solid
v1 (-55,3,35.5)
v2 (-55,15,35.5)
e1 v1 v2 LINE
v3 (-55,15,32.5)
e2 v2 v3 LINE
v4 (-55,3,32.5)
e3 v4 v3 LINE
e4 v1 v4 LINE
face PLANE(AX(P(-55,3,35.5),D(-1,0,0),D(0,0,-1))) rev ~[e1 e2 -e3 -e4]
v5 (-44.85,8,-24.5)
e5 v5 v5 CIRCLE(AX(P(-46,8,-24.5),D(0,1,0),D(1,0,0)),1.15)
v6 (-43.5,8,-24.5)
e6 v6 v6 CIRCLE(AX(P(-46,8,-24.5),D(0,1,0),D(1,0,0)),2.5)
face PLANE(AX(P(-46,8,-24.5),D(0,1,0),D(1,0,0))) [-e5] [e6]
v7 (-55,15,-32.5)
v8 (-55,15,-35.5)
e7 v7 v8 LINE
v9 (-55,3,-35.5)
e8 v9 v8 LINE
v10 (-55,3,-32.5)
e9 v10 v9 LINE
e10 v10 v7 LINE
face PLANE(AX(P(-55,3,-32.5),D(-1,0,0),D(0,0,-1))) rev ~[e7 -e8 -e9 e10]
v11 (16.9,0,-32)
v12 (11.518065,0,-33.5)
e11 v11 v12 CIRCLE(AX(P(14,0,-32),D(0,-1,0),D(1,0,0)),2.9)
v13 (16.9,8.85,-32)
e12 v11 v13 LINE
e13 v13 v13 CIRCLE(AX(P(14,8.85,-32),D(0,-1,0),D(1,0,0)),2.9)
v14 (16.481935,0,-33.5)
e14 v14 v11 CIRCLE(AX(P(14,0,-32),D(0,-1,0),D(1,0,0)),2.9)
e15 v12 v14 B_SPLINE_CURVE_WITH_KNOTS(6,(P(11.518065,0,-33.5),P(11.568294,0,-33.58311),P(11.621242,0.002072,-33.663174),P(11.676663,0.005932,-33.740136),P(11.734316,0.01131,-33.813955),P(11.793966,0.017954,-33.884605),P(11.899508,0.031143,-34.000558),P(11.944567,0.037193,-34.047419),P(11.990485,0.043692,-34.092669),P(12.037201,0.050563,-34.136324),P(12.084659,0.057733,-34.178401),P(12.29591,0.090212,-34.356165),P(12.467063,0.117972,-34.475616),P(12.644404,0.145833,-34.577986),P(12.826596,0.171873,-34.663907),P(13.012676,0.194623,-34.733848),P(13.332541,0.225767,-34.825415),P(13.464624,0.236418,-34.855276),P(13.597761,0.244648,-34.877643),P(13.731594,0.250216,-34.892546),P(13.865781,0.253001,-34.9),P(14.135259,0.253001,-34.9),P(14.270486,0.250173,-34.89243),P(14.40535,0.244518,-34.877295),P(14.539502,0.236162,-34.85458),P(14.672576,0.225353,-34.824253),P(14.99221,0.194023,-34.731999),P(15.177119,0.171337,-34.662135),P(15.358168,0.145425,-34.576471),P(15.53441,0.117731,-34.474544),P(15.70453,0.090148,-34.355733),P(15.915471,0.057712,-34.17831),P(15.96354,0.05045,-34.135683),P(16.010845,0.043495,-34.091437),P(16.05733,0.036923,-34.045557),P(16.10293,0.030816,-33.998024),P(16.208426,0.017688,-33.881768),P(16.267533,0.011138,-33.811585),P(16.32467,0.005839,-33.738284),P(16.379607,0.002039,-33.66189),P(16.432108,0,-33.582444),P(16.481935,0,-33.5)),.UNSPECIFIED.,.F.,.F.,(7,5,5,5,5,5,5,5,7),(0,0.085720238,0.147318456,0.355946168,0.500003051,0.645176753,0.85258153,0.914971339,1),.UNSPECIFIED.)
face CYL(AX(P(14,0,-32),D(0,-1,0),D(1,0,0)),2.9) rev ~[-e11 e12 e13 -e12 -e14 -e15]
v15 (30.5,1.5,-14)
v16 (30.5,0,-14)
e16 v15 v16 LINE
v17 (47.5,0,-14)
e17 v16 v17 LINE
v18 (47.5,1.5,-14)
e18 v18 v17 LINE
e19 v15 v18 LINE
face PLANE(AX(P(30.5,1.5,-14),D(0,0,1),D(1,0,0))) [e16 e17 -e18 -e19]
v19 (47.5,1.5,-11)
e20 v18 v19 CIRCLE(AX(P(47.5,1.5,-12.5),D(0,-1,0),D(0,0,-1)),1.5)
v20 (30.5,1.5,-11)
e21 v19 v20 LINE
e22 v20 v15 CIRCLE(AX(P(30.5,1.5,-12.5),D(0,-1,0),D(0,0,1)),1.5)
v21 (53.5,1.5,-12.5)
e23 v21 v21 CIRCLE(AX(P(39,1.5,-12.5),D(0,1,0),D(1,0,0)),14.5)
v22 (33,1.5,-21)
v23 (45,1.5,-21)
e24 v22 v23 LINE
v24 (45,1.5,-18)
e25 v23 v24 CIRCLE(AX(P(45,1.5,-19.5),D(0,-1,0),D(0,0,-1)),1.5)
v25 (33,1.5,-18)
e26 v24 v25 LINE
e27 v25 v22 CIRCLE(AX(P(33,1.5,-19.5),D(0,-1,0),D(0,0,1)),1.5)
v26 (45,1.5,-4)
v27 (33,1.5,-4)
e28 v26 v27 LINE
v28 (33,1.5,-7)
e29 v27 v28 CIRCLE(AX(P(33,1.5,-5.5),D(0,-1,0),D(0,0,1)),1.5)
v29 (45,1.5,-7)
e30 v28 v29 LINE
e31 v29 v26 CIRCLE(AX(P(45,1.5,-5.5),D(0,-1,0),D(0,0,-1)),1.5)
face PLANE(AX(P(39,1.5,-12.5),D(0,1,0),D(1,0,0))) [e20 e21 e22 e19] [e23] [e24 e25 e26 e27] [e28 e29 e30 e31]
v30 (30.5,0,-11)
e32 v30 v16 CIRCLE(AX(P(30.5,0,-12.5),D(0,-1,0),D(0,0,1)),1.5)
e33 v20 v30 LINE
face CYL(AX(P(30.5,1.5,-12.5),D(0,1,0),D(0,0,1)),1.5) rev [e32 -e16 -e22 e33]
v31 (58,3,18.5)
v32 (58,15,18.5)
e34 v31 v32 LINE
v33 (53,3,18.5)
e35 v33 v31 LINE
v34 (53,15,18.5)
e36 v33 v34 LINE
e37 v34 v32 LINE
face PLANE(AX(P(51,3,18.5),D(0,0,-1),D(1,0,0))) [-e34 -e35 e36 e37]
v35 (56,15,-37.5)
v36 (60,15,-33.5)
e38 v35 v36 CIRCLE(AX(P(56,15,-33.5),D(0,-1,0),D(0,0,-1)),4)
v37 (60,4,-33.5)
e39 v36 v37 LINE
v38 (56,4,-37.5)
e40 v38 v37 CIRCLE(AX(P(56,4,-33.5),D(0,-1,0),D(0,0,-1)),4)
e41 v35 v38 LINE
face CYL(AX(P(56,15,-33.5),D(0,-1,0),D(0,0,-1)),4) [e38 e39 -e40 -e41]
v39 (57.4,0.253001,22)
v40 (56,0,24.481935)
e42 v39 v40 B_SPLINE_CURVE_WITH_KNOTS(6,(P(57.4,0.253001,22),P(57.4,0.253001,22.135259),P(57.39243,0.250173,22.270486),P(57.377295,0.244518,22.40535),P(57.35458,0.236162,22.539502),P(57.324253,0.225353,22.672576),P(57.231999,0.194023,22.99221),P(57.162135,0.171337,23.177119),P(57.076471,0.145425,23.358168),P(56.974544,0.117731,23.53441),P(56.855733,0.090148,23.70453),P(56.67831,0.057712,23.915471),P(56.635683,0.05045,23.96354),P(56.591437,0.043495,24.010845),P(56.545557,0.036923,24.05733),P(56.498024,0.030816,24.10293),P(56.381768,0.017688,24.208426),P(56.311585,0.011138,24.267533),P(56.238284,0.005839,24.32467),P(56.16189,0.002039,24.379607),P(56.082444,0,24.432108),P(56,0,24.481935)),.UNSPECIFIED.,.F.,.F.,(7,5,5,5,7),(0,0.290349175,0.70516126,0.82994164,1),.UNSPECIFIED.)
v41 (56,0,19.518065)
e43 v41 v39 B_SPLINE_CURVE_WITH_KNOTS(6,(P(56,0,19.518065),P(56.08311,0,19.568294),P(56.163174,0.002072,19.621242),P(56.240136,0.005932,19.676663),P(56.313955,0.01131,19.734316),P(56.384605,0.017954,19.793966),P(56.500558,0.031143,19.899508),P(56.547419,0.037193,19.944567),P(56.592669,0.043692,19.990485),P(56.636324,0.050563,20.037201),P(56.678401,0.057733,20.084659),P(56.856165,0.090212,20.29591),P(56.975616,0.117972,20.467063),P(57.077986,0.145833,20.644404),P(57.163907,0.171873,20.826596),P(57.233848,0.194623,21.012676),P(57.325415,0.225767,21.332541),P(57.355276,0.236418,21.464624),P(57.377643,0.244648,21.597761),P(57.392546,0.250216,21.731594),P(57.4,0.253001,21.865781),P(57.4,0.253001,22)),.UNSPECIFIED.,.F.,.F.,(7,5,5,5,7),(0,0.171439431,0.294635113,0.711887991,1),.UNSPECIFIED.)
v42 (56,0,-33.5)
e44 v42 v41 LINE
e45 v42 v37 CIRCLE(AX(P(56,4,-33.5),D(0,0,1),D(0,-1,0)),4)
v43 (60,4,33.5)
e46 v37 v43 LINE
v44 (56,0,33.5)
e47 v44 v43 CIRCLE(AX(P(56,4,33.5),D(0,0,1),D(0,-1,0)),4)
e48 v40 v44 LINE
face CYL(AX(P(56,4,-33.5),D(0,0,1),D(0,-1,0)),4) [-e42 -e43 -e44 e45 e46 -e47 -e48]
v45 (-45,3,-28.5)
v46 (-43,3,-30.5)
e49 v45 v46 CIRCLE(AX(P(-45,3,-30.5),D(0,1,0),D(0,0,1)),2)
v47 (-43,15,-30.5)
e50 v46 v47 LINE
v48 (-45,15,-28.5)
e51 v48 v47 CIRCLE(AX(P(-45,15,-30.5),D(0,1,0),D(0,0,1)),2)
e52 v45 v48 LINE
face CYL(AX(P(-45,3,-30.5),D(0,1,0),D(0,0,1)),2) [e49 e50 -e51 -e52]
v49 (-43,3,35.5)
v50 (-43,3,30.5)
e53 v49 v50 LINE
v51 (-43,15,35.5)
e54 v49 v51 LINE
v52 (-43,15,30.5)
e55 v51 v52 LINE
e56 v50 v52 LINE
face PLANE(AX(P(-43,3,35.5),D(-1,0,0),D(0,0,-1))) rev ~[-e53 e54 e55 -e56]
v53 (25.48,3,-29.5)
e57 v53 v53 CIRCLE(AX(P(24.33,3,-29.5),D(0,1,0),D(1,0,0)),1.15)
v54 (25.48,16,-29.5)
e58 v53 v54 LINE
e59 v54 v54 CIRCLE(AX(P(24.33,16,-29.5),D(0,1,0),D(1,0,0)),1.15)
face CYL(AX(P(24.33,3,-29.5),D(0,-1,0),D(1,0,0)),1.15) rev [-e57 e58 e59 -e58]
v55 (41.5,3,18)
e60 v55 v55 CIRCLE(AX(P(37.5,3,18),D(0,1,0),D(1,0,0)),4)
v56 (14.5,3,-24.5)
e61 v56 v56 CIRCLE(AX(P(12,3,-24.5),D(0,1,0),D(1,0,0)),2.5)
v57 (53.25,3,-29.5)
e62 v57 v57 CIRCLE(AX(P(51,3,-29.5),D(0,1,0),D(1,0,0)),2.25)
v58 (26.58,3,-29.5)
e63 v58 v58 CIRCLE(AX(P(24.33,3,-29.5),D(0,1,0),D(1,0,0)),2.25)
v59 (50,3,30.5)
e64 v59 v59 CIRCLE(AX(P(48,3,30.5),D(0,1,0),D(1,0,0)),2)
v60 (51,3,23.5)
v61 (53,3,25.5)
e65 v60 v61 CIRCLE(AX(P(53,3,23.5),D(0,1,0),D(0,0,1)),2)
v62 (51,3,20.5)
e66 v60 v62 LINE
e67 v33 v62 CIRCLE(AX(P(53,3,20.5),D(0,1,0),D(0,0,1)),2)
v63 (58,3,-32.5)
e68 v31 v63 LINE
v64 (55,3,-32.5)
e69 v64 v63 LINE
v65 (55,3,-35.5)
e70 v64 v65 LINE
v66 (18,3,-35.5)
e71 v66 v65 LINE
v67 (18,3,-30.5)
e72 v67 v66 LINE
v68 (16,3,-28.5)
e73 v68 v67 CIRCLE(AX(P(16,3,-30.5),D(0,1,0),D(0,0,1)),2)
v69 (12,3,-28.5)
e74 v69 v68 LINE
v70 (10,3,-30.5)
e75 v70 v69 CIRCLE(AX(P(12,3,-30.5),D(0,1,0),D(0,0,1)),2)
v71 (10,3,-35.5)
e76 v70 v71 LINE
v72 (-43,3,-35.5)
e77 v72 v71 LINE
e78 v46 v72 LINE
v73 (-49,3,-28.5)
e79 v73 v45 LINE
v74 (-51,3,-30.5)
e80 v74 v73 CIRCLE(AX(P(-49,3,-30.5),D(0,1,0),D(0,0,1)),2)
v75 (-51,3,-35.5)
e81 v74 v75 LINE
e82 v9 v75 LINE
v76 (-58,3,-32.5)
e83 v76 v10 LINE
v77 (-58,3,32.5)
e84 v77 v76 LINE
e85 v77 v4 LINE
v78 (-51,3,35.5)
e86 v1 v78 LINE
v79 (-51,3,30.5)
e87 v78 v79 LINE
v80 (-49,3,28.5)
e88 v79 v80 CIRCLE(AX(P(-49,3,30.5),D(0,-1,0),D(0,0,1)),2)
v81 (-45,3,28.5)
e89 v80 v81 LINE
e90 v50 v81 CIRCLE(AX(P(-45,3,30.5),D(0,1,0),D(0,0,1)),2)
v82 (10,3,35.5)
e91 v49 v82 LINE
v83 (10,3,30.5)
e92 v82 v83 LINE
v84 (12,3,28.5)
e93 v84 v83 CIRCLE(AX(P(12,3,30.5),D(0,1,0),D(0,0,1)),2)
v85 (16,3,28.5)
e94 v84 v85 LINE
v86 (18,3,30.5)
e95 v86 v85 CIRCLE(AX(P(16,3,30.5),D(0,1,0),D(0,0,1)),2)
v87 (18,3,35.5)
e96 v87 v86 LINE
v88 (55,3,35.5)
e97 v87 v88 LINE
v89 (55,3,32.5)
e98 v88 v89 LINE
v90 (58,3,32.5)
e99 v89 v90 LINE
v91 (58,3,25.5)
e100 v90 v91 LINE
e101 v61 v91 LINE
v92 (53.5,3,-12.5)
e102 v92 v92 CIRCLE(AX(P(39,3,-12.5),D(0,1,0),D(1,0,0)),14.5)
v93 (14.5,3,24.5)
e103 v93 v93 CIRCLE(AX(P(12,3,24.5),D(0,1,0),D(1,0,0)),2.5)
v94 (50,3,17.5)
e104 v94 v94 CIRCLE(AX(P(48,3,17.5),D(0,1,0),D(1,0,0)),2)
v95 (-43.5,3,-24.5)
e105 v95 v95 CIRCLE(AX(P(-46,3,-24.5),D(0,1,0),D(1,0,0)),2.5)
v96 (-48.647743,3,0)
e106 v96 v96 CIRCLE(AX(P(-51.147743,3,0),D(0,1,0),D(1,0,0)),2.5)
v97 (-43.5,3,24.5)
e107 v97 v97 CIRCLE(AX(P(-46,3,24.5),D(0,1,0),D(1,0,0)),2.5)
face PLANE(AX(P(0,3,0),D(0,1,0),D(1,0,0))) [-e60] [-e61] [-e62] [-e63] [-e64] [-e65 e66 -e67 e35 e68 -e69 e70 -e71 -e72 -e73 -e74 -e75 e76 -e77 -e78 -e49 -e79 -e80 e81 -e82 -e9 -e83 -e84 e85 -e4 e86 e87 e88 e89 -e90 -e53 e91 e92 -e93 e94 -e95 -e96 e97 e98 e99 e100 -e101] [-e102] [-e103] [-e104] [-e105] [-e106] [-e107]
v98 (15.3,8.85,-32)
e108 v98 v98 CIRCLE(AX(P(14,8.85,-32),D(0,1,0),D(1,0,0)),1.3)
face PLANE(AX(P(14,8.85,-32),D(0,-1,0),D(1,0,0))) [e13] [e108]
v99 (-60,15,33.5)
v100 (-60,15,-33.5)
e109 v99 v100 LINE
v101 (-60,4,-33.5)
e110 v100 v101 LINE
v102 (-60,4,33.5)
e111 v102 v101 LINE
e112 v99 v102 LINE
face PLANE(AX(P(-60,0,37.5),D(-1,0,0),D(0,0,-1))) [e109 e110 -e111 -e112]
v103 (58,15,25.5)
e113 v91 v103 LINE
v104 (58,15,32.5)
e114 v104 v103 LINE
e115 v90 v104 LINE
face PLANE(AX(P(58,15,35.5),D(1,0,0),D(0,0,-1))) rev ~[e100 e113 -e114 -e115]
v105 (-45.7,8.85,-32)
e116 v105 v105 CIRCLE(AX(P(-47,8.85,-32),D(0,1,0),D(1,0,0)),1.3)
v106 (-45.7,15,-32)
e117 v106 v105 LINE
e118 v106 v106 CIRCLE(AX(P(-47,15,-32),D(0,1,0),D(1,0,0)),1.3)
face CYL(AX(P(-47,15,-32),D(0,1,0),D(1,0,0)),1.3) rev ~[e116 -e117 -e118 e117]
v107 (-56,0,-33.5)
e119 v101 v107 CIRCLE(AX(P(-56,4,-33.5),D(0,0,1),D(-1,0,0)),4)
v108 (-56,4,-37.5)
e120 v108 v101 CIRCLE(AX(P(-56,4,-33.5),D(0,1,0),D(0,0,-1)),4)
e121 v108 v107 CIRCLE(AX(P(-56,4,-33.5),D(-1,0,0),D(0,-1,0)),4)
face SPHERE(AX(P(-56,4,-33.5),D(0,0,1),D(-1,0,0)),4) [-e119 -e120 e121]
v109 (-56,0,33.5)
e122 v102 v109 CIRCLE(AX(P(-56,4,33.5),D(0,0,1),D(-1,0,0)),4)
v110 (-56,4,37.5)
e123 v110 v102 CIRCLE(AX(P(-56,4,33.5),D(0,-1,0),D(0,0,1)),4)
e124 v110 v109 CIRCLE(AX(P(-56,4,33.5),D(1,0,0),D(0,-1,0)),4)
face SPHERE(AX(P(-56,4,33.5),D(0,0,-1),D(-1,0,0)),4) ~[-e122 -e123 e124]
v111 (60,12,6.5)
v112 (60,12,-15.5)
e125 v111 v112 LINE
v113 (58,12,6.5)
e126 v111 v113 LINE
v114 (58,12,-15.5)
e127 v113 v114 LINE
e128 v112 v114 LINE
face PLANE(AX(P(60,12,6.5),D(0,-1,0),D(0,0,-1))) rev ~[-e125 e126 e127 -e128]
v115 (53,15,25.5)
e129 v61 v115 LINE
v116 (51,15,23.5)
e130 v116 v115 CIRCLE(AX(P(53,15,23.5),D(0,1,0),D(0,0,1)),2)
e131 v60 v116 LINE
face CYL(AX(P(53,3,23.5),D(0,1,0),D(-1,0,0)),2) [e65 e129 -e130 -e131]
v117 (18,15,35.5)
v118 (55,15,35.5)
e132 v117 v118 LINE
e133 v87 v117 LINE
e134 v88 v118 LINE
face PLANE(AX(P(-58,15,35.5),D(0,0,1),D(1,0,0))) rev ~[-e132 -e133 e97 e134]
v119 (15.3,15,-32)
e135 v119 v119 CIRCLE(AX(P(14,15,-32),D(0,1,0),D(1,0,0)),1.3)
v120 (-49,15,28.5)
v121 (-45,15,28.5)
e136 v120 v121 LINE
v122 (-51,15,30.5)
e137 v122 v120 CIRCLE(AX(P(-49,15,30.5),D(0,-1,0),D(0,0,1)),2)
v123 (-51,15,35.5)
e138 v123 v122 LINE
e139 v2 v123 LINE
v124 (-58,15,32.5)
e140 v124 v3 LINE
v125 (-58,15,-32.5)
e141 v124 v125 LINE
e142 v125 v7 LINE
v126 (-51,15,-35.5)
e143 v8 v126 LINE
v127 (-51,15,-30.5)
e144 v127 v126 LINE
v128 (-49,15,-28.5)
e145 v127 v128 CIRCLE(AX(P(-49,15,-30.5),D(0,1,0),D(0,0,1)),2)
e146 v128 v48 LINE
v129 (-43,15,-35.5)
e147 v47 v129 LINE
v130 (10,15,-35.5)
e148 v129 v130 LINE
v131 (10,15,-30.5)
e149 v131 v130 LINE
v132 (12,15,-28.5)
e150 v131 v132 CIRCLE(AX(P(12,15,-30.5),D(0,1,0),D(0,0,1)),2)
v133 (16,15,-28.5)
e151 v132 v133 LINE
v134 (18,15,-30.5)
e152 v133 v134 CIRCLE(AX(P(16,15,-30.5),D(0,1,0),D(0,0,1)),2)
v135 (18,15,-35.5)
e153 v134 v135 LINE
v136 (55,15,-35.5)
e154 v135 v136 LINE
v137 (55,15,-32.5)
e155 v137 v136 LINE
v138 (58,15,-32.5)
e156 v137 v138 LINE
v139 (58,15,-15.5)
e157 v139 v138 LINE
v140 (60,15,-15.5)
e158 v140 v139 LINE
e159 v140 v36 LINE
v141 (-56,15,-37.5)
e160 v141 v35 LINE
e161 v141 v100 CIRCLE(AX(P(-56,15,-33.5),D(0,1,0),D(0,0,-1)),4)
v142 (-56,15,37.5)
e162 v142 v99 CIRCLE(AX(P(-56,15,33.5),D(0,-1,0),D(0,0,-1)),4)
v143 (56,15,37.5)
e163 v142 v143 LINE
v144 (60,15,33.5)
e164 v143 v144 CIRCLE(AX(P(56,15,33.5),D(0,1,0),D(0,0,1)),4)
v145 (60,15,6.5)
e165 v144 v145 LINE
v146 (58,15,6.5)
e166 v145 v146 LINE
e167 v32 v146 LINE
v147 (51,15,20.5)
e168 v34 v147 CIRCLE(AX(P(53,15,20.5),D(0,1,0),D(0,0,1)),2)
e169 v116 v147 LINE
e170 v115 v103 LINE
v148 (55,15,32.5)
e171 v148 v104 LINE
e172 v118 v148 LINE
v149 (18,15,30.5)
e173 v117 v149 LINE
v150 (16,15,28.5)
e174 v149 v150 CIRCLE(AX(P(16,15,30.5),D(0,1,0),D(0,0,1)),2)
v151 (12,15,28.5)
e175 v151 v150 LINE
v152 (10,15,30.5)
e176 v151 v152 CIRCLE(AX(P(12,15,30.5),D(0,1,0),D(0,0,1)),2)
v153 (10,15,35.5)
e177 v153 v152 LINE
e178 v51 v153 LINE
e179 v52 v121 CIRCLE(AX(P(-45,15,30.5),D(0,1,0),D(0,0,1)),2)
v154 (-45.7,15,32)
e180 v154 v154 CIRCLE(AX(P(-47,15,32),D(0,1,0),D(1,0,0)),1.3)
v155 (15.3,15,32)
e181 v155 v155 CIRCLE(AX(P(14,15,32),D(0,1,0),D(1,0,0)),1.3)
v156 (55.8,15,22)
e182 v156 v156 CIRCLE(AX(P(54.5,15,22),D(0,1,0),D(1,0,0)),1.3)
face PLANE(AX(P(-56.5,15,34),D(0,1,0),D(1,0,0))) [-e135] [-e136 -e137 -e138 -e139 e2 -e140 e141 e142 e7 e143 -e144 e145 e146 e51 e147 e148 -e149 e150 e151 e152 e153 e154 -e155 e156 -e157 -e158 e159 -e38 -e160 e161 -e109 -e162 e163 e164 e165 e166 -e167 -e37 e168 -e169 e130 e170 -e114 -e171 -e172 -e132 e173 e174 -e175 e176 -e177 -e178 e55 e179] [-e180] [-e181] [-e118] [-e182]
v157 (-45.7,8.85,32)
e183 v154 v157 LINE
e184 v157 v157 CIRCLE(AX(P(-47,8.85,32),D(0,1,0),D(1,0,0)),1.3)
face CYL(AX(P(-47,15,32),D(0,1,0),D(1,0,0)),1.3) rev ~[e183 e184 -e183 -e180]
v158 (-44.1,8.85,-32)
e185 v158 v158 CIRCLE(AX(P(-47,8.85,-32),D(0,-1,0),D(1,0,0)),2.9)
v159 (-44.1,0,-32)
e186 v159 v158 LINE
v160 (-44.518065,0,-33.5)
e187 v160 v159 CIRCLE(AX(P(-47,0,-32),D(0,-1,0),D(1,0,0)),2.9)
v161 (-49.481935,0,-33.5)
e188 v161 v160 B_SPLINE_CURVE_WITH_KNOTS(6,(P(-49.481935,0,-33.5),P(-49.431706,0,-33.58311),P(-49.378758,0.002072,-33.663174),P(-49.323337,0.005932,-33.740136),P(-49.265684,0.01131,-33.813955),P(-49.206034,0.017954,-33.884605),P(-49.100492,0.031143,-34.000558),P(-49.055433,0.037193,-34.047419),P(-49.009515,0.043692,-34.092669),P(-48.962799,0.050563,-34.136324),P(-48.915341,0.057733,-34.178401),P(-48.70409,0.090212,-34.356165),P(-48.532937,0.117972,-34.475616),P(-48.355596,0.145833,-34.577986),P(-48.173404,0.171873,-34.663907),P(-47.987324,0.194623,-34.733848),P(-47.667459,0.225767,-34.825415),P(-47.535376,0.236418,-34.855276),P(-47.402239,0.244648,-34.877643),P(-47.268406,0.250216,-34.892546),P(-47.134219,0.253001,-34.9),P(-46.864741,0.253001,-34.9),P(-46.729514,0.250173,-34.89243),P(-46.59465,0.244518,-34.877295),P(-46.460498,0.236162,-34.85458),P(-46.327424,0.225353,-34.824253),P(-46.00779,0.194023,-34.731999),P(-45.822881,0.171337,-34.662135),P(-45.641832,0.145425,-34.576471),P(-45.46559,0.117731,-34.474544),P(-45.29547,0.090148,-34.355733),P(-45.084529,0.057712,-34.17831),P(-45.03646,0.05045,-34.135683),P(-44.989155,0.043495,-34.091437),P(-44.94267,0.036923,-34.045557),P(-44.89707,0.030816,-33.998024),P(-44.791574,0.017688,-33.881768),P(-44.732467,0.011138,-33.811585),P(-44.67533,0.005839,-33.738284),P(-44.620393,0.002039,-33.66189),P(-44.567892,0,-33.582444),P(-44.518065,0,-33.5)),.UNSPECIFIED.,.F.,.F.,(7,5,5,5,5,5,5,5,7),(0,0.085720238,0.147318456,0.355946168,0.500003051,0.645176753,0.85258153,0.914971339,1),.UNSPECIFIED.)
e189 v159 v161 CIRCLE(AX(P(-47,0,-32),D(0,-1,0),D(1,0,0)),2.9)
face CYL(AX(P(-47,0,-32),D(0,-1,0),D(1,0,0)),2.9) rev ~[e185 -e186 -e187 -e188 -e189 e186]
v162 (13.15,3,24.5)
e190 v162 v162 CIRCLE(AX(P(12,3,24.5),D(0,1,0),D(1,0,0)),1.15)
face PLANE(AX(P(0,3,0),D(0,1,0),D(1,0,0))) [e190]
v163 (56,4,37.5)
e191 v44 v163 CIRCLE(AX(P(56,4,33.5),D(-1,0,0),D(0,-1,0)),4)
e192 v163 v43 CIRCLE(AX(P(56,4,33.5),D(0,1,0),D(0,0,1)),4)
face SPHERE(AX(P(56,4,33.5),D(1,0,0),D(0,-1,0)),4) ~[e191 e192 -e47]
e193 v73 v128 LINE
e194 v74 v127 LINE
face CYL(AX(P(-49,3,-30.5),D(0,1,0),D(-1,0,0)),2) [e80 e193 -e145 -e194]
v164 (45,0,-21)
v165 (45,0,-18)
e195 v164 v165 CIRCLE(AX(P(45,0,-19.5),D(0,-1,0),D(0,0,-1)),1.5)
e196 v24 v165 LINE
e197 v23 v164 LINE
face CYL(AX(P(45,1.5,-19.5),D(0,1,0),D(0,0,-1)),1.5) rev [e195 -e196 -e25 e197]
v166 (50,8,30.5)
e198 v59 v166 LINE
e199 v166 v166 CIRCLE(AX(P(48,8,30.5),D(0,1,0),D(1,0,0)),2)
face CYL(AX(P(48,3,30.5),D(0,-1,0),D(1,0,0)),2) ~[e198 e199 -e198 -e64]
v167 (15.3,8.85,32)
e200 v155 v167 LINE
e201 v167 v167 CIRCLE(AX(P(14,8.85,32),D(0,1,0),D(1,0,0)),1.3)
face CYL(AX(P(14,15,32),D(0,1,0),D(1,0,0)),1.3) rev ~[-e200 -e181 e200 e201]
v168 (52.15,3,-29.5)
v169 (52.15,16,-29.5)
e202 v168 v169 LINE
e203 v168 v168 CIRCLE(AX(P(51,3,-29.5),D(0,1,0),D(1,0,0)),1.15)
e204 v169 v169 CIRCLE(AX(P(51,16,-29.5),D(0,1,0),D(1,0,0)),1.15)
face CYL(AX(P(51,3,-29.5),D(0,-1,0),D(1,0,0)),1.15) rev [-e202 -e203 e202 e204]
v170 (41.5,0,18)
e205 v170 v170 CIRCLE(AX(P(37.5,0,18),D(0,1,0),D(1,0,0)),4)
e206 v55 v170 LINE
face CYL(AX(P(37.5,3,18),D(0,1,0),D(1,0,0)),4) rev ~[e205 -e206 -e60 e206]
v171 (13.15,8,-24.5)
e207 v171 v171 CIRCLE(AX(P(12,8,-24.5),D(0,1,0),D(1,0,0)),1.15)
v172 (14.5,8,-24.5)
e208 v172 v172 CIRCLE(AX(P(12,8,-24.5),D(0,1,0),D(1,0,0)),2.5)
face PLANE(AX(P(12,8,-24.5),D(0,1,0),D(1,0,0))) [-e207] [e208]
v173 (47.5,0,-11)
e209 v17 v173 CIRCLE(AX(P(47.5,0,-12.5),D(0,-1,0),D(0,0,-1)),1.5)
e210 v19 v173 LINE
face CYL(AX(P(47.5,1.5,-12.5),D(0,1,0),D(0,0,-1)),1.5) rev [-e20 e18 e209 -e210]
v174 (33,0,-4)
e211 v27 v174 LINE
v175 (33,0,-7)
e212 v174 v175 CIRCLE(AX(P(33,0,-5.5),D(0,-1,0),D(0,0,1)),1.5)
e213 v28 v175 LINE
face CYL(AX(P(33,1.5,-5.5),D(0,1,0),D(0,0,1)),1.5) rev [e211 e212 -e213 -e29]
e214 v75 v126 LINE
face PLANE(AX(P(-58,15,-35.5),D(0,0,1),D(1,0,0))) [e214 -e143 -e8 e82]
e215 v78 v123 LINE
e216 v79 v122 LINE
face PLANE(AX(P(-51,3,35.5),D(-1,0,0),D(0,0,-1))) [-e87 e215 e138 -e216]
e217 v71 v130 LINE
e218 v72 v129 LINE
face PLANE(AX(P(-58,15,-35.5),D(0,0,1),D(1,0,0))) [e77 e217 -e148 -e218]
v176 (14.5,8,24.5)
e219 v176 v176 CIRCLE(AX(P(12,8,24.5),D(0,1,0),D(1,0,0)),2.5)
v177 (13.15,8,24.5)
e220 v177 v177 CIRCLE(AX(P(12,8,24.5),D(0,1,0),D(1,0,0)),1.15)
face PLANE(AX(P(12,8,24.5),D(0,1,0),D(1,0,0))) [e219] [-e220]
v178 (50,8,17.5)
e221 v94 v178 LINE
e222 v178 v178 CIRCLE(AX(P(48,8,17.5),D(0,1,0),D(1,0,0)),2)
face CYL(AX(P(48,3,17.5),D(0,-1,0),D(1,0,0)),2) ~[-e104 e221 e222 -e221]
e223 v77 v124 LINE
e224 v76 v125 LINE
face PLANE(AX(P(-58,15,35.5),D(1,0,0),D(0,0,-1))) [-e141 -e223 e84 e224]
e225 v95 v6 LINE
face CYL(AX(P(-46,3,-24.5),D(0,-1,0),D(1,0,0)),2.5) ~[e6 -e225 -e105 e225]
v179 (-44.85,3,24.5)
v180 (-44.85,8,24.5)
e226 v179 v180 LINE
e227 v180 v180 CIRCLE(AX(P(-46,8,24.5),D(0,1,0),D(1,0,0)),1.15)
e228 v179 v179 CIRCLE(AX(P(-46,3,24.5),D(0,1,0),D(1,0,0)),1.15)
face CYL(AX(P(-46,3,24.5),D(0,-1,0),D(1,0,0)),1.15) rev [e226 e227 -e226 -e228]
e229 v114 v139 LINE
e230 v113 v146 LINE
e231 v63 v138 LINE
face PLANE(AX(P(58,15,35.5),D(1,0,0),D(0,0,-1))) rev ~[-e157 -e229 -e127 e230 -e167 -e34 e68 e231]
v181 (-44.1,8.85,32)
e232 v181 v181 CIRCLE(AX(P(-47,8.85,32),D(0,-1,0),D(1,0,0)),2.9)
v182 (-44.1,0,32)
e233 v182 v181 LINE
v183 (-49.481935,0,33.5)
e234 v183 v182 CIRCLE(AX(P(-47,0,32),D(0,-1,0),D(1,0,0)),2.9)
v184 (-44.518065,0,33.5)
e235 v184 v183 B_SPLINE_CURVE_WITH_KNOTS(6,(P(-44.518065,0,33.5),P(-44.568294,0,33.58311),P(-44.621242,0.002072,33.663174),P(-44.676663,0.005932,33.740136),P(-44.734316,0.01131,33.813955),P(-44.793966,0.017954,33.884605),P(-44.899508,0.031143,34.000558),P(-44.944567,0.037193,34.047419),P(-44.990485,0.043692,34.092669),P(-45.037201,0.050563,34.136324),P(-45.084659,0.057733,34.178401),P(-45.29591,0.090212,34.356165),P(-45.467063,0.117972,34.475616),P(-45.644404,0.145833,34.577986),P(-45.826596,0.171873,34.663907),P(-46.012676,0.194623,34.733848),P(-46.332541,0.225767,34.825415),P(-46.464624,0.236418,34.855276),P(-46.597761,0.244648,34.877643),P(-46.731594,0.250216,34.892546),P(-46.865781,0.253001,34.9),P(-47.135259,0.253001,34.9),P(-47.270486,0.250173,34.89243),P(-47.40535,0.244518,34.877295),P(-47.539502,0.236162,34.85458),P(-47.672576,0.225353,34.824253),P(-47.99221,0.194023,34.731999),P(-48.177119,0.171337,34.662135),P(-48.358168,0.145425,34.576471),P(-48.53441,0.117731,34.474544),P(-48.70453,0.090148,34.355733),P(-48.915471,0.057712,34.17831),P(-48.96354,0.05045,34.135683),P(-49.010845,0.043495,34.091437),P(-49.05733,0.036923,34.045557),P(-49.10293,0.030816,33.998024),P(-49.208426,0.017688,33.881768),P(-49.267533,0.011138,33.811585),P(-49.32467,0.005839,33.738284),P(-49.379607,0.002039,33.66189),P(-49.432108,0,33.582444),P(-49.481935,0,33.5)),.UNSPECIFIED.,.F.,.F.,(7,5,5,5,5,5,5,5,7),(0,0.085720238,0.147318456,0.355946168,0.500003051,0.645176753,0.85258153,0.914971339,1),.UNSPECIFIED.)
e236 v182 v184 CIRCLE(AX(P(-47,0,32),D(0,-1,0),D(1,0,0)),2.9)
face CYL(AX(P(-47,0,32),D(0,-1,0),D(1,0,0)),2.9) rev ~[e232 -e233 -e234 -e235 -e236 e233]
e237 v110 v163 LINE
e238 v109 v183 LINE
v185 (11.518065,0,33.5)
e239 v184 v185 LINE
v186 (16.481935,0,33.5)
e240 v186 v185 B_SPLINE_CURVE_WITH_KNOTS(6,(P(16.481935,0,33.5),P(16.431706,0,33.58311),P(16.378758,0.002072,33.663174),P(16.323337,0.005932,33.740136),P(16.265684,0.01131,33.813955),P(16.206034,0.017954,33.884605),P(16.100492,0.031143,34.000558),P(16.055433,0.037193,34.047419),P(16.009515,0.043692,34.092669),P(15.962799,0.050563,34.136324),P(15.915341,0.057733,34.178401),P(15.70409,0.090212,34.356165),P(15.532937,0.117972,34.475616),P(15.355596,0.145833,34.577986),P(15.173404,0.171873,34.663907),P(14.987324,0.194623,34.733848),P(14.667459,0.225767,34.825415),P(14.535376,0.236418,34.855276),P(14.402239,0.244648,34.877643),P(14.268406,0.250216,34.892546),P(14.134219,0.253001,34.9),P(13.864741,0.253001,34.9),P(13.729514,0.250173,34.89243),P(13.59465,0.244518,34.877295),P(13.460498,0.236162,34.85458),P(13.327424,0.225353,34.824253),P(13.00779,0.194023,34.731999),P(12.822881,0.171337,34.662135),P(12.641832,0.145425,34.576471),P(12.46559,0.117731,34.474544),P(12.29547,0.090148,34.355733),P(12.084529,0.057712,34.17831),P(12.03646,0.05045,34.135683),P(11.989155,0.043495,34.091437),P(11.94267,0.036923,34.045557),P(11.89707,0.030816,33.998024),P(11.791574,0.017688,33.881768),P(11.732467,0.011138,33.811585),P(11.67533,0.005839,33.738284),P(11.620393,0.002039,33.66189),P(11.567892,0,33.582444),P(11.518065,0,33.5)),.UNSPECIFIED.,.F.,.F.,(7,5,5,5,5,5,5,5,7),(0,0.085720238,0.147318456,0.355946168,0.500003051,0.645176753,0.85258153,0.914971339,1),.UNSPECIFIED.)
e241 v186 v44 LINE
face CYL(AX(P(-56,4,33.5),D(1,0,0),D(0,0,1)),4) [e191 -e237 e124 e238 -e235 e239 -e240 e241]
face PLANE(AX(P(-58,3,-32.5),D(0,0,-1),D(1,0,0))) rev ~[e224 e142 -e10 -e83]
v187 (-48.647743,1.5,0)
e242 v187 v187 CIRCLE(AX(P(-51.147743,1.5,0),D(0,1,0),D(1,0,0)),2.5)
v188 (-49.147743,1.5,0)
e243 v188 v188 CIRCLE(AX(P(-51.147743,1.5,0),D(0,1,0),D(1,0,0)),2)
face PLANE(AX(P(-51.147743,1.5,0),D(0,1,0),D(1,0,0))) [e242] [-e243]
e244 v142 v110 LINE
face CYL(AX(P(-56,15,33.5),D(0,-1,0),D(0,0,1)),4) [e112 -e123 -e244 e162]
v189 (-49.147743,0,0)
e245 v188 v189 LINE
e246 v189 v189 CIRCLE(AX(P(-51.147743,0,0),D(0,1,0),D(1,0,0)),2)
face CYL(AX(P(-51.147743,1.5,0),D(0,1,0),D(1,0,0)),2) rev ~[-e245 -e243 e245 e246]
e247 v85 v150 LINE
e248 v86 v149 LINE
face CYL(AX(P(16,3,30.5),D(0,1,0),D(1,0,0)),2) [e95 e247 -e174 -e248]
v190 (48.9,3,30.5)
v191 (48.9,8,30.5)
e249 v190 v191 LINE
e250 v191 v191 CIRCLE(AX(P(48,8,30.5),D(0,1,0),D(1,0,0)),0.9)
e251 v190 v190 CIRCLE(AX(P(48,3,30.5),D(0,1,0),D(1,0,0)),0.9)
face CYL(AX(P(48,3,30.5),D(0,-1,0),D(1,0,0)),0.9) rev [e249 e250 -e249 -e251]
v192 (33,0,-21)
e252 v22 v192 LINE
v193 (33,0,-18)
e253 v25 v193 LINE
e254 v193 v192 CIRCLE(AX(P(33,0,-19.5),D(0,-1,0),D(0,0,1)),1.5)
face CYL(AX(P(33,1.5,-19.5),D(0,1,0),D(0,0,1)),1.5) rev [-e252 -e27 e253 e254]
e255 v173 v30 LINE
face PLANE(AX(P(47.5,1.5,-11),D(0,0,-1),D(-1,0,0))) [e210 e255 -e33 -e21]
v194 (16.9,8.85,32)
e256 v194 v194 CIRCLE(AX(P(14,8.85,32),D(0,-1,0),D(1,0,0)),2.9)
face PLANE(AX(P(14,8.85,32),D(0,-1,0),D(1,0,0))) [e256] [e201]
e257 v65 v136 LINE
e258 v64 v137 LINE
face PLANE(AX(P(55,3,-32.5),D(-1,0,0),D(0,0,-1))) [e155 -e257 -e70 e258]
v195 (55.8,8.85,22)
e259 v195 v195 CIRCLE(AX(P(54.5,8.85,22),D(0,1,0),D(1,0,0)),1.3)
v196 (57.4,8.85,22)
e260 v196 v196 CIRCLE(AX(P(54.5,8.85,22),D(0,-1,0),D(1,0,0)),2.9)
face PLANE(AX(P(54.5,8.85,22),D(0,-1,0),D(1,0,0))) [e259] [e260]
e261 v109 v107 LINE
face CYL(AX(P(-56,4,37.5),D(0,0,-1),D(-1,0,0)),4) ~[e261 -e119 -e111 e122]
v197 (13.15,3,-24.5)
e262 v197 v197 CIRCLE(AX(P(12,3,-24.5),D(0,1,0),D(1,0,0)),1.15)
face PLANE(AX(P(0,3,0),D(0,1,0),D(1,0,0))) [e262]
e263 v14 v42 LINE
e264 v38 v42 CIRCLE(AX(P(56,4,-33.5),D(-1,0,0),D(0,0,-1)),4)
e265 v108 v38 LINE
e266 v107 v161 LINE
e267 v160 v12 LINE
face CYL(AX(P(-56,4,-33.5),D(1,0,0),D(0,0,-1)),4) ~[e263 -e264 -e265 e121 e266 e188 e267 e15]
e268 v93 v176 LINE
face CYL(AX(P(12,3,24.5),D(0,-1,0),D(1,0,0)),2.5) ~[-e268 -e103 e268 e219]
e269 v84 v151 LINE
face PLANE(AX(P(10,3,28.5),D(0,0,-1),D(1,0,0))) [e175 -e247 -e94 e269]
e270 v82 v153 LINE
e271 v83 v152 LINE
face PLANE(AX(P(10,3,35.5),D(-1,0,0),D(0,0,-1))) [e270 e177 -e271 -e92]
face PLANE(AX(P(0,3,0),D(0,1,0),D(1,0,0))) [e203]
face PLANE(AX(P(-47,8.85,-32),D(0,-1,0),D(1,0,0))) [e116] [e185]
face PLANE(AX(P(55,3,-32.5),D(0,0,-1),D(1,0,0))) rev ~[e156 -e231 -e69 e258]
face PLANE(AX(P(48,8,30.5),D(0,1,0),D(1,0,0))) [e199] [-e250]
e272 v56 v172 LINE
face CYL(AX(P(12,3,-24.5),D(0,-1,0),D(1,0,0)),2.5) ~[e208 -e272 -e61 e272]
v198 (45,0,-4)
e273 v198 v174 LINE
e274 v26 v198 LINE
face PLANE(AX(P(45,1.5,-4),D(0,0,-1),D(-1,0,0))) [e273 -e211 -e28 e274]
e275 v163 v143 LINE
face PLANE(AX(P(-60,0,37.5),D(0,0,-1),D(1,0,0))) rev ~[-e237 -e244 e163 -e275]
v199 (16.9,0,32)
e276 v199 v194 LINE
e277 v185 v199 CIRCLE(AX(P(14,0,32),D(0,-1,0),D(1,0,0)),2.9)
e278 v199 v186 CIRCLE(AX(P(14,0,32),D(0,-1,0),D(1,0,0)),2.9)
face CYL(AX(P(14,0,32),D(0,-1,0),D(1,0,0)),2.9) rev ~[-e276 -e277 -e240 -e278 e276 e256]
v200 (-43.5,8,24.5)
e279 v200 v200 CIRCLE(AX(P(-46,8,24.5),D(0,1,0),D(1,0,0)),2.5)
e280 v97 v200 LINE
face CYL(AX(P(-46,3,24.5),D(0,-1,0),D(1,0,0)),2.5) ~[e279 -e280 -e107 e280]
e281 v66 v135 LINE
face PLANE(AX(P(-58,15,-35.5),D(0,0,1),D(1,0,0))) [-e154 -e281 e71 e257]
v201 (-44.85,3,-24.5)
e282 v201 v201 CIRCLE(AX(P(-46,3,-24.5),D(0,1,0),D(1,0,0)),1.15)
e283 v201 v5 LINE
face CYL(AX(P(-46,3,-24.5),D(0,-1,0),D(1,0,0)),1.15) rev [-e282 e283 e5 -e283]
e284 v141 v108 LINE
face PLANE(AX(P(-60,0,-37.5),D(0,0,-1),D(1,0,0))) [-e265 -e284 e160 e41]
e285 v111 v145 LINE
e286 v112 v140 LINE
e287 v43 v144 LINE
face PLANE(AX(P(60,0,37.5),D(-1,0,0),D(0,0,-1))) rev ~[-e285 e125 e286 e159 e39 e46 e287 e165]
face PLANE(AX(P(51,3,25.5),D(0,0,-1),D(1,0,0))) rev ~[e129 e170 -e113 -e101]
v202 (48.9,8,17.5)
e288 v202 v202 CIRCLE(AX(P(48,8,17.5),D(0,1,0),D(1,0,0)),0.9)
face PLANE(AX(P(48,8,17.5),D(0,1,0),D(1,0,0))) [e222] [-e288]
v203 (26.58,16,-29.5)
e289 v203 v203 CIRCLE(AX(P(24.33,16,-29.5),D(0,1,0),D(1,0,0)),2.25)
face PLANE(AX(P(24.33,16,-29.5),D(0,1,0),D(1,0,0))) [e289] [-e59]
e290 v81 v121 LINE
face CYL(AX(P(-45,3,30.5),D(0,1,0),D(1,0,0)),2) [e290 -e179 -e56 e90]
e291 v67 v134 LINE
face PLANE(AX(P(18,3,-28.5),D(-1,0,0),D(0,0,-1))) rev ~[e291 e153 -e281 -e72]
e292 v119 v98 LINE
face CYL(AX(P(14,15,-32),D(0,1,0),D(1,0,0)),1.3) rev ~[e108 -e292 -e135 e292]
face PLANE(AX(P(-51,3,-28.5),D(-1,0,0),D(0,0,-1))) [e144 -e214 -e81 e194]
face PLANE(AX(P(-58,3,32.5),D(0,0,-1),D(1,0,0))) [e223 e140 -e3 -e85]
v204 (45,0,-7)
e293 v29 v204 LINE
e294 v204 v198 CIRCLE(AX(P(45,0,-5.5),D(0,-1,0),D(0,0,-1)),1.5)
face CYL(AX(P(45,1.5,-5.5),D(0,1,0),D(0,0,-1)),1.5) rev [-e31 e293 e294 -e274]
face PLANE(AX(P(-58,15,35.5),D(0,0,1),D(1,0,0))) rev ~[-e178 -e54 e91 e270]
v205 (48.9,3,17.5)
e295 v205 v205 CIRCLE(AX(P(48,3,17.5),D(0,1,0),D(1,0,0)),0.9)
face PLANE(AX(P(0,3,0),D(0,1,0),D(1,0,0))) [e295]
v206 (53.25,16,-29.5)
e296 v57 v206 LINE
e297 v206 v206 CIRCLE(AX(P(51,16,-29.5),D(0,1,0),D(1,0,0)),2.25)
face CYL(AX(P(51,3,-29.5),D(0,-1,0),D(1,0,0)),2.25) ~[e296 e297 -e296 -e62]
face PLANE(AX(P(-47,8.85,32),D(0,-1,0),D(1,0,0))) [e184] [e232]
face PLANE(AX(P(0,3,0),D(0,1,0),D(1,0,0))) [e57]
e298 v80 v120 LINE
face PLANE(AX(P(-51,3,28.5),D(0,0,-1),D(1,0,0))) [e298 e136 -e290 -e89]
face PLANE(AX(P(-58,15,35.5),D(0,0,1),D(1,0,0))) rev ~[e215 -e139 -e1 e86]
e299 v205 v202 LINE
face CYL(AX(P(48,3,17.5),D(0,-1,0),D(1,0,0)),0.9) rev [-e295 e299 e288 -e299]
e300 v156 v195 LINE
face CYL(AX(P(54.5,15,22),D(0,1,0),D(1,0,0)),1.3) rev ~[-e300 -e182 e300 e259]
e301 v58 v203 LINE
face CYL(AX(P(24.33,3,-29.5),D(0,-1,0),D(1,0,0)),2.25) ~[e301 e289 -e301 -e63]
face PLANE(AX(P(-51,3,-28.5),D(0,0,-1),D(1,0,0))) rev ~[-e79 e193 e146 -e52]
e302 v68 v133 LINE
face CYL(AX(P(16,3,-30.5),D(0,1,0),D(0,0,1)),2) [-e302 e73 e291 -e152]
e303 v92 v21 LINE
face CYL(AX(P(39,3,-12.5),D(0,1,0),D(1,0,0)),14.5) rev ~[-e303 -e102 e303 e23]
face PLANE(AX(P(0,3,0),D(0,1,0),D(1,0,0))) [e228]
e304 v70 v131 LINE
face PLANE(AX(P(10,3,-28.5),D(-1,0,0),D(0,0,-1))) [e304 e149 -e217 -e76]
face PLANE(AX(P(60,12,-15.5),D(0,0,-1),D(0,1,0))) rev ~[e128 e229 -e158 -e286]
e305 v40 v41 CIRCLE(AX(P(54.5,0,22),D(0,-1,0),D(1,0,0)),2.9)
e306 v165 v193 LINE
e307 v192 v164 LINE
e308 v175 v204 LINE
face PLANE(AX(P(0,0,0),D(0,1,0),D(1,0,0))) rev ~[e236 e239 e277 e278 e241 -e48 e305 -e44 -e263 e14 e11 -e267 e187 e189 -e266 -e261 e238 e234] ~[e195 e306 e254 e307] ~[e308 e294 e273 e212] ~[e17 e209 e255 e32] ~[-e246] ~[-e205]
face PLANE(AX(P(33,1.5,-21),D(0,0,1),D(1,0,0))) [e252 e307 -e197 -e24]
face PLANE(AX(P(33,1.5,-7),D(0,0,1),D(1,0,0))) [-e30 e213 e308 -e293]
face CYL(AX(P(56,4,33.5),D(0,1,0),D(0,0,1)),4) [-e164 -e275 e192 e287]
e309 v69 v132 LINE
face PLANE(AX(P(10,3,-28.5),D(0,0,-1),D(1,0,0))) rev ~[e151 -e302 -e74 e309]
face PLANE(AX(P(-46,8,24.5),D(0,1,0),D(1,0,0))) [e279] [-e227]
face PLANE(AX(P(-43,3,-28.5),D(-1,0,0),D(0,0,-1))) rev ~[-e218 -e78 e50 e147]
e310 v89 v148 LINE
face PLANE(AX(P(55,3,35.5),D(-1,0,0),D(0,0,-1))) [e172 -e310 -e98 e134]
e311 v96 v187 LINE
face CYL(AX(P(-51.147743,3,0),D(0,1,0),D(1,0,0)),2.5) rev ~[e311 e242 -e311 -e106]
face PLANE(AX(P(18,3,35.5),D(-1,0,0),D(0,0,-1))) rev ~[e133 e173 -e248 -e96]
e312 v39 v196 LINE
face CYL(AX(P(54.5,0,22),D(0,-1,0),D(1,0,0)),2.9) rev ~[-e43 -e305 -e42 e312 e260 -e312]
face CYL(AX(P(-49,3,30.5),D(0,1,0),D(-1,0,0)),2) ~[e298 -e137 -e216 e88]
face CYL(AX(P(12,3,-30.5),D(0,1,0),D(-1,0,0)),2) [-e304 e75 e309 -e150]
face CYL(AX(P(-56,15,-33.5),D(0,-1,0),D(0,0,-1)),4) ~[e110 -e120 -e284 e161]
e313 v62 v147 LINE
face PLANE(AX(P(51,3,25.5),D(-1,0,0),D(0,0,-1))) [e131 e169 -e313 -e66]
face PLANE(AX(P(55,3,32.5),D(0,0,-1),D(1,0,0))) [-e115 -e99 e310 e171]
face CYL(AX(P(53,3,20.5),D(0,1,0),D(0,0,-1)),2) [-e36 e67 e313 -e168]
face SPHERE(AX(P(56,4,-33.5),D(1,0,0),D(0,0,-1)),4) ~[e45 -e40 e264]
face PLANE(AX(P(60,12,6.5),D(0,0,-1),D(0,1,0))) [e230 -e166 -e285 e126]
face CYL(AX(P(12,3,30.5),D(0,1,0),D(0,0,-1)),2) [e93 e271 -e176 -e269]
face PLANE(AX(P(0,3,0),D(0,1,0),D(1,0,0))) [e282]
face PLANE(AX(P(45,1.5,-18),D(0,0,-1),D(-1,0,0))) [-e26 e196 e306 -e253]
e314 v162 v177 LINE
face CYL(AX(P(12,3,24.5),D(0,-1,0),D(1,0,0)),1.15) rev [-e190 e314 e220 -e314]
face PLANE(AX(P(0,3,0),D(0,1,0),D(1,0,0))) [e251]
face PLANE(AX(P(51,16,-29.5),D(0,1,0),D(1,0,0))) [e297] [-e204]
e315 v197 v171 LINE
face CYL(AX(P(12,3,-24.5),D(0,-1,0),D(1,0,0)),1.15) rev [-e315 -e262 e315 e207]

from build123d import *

# Parameters (mm, degrees)
SKETCH1_W                   = 120
SKETCH1_H                   = 75
MAIN_STRUCTURE_DEPTH        = 15
SKETCH2_W                   = 116
SKETCH2_H                   = 71
INSIDE_CUT_DEPTH            = 12
SKETCH3_R                   = 2.5
SKETCH3_R_2                 = 1.15
PI_STANDOFFS_DEPTH          = 5
SKETCH4_R                   = 2
SKETCH4_R_2                 = 0.9
CAMERA_STANDOFFS_DEPTH      = 5
BODY_FILLET_1_R             = 4
BODY_FILLET_2_R             = 4
BODY_FILLET_3_R             = 4
BODY_FILLET_4_R             = 4
SKETCH5_R                   = 2.25
SKETCH5_R_2                 = 1.15
FONA_STANDOFFS_DEPTH        = 13
SKETCH6_W                   = 3
SKETCH6_H                   = 3
CORNER_SUPPORT_DEPTH        = 12
SKETCH8_W                   = 22
SKETCH8_H                   = 3
CHARGER_CUTOUT_DEPTH        = 10
SKETCH9_W                   = 8
SKETCH9_H                   = 7
SKETCH9_W_2                 = 7
MOUNTING_STRUCTURE_DEPTH    = 12
MOUNTING_STRUCTURE_FILLET_R = 2
SKETCH10_R                  = 1.3
CASE_MOUNTING_HOLES_DEPTH   = 15
SKETCH13_R                  = 2.9
CASE_SCREW_HEAD_HOLES_DEPTH = 8.85
SKETCH14_R                  = 14.5
SPEAKER_HOLDER_DEPTH        = 1.5
SOUND_CUTOUT_DEPTH          = 1.5
SKETCH25_R                  = 2.5
MICROPHONE_HOLDER_DEPTH     = 1.5
SKETCH26_R                  = 2
MICROPHONE_CUTOUT_DEPTH     = 1.5
SKETCH27_R                  = 4
CAMERA_CUTOUT_DEPTH         = 10


with BuildPart() as part:
    # Sketch1 → Main Structure (new body)
    with BuildSketch(Plane(origin=(0, 0, 0), x_dir=(1, 0, 0), z_dir=(0, 1, 0))):
        Rectangle(SKETCH1_W, SKETCH1_H)
    extrude(amount=MAIN_STRUCTURE_DEPTH)

    # Sketch2 → Inside Cut (cut)
    with BuildSketch(Plane(origin=(0, 15, 0), x_dir=(1, 0, 0), z_dir=(0, 1, 0))):
        Rectangle(SKETCH2_W, SKETCH2_H)
    extrude(amount=-INSIDE_CUT_DEPTH, mode=Mode.SUBTRACT)

    # Sketch3 → Pi Standoffs (add)
    with BuildSketch(Plane(origin=(0, 3, 0), x_dir=(1, 0, 0), z_dir=(0, 1, 0))):
        with Locations((-46, -24.5)):
            Circle(SKETCH3_R)
        with Locations((-46, -24.5)):
            Circle(SKETCH3_R_2, mode=Mode.SUBTRACT)
        with Locations((-46, 24.5)):
            Circle(SKETCH3_R)
        with Locations((-46, 24.5)):
            Circle(SKETCH3_R_2, mode=Mode.SUBTRACT)
        with Locations((12, 24.5)):
            Circle(SKETCH3_R)
        with Locations((12, 24.5)):
            Circle(SKETCH3_R_2, mode=Mode.SUBTRACT)
        with Locations((12, -24.5)):
            Circle(SKETCH3_R)
        with Locations((12, -24.5)):
            Circle(SKETCH3_R_2, mode=Mode.SUBTRACT)
    extrude(amount=PI_STANDOFFS_DEPTH)

    # Sketch4 → Camera Standoffs (add)
    with BuildSketch(Plane(origin=(0, 3, 0), x_dir=(1, 0, 0), z_dir=(0, 1, 0))):
        with Locations((48, -30.5)):
            Circle(SKETCH4_R)
        with Locations((48, -30.5)):
            Circle(SKETCH4_R_2, mode=Mode.SUBTRACT)
        with Locations((48, -17.5)):
            Circle(SKETCH4_R)
        with Locations((48, -17.5)):
            Circle(SKETCH4_R_2, mode=Mode.SUBTRACT)
    extrude(amount=CAMERA_STANDOFFS_DEPTH)

    # Body Fillet 1
    body_fillet_1_edges = [part.edges().sort_by_distance(p)[0] for p in [
        (-60, 0, 0),
    ]]
    fillet(body_fillet_1_edges, radius=BODY_FILLET_1_R)

    # Body Fillet 2
    body_fillet_2_edges = [part.edges().sort_by_distance(p)[0] for p in [
        (2, 0, -37.5),
        (-58.828427125, 1.171572875, -37.5),
        (-60, 9.5, -37.5),
    ]]
    fillet(body_fillet_2_edges, radius=BODY_FILLET_2_R)

    # Body Fillet 3
    body_fillet_3_edges = [part.edges().sort_by_distance(p)[0] for p in [
        (2, 0, 37.5),
        (-58.828427125, 1.171572875, 37.5),
        (-60, 9.5, 37.5),
    ]]
    fillet(body_fillet_3_edges, radius=BODY_FILLET_3_R)

    # Body Fillet 4
    body_fillet_4_edges = [part.edges().sort_by_distance(p)[0] for p in [
        (60, 9.5, 37.5),
        (60, 9.5, -37.5),
        (60, 1.171572875, -36.328427125),
        (60, 0, 0),
        (60, 1.171572875, 36.328427125),
    ]]
    fillet(body_fillet_4_edges, radius=BODY_FILLET_4_R)

    # Sketch5 → Fona Standoffs (add)
    with BuildSketch(Plane(origin=(0, 3, 0), x_dir=(1, 0, 0), z_dir=(0, 1, 0))):
        with Locations((24.33, 29.5)):
            Circle(SKETCH5_R)
        with Locations((24.33, 29.5)):
            Circle(SKETCH5_R_2, mode=Mode.SUBTRACT)
        with Locations((51, 29.5)):
            Circle(SKETCH5_R)
        with Locations((51, 29.5)):
            Circle(SKETCH5_R_2, mode=Mode.SUBTRACT)
    extrude(amount=FONA_STANDOFFS_DEPTH)

    # Sketch6 → Corner Support (add)
    with BuildSketch(Plane(origin=(0, 3, 0), x_dir=(1, 0, 0), z_dir=(0, 1, 0))):
        with Locations((-56.5, -34)):
            Rectangle(SKETCH6_W, SKETCH6_H)
        with Locations((-56.5, 34)):
            Rectangle(SKETCH6_W, SKETCH6_H)
        with Locations((56.5, -34)):
            Rectangle(SKETCH6_W, SKETCH6_H)
        with Locations((56.5, 34)):
            Rectangle(SKETCH6_W, SKETCH6_H)
    extrude(amount=CORNER_SUPPORT_DEPTH)

    # Sketch8 → Charger Cutout (cut)
    with BuildSketch(Plane(origin=(60, 0, 0), x_dir=(0, 0, -1), z_dir=(1, 0, 0))):
        with Locations((4.5, 13.5)):
            Rectangle(SKETCH8_W, SKETCH8_H)
    extrude(amount=-CHARGER_CUTOUT_DEPTH, mode=Mode.SUBTRACT)

    # Sketch9 → Mounting Structure (add)
    with BuildSketch(Plane(origin=(0, 3, 0), x_dir=(1, 0, 0), z_dir=(0, 1, 0))):
        with Locations((-47, -32)):
            Rectangle(SKETCH9_W, SKETCH9_H)
        with Locations((54.5, -22)):
            Rectangle(SKETCH9_W_2, SKETCH9_H)
        with Locations((-47, 32)):
            Rectangle(SKETCH9_W, SKETCH9_H)
        with Locations((14, 32)):
            Rectangle(SKETCH9_W, SKETCH9_H)
        with Locations((14, -32)):
            Rectangle(SKETCH9_W, SKETCH9_H)
    extrude(amount=MOUNTING_STRUCTURE_DEPTH)

    # Mounting Structure Fillet
    mounting_structure_fillet_edges = [part.edges().sort_by_distance(p)[0] for p in [
        (-43, 9, 28.5),
        (-51, 9, 28.5),
        (51, 9, 18.5),
        (51, 9, 25.5),
        (-43, 9, -28.5),
        (-51, 9, -28.5),
        (18, 9, -28.5),
        (10, 9, -28.5),
        (18, 9, 28.5),
        (10, 9, 28.5),
    ]]
    fillet(mounting_structure_fillet_edges, radius=MOUNTING_STRUCTURE_FILLET_R)

    # Sketch10 → Case Mounting Holes (cut)
    with BuildSketch(Plane(origin=(0, 15, 0), x_dir=(1, 0, 0), z_dir=(0, 1, 0))):
        with Locations((-47, 32)):
            Circle(SKETCH10_R)
        with Locations((-47, -32)):
            Circle(SKETCH10_R)
        with Locations((14, -32)):
            Circle(SKETCH10_R)
        with Locations((14, 32)):
            Circle(SKETCH10_R)
        with Locations((54.5, -22)):
            Circle(SKETCH10_R)
    extrude(amount=-CASE_MOUNTING_HOLES_DEPTH, mode=Mode.SUBTRACT)

    # Sketch13 → Case Screw Head Holes (cut)
    with BuildSketch(Plane.XZ):
        with Locations((-47, 32)):
            Circle(SKETCH13_R)
        with Locations((14, 32)):
            Circle(SKETCH13_R)
        with Locations((14, -32)):
            Circle(SKETCH13_R)
        with Locations((-47, -32)):
            Circle(SKETCH13_R)
        with Locations((54.5, 22)):
            Circle(SKETCH13_R)
    extrude(amount=-CASE_SCREW_HEAD_HOLES_DEPTH, mode=Mode.SUBTRACT)

    # Sketch14 → Speaker Holder (cut)
    with BuildSketch(Plane(origin=(0, 3, 0), x_dir=(1, 0, 0), z_dir=(0, 1, 0))):
        with Locations((39, 12.5)):
            Circle(SKETCH14_R)
    extrude(amount=-SPEAKER_HOLDER_DEPTH, mode=Mode.SUBTRACT)

    # Sketch23 → Sound Cutout (cut)
    with BuildSketch(Plane(origin=(0, 1.5, 0), x_dir=(1, 0, 0), z_dir=(0, 1, 0))):
        with BuildLine():
            Line((33, 21), (45, 21))
            ThreePointArc((45, 21), (46.5, 19.5), (45, 18))
            Line((45, 18), (33, 18))
            ThreePointArc((33, 18), (31.5, 19.5), (33, 21))
        make_face()
        with BuildLine():
            Line((30.5, 14), (47.5, 14))
            ThreePointArc((47.5, 14), (49, 12.5), (47.5, 11))
            Line((47.5, 11), (30.5, 11))
            ThreePointArc((30.5, 11), (29, 12.5), (30.5, 14))
        make_face()
        with BuildLine():
            Line((33, 7), (45, 7))
            ThreePointArc((45, 7), (46.5, 5.5), (45, 4))
            Line((45, 4), (33, 4))
            ThreePointArc((33, 4), (31.5, 5.5), (33, 7))
        make_face()
    extrude(amount=-SOUND_CUTOUT_DEPTH, mode=Mode.SUBTRACT)

    # Sketch25 → Microphone holder (cut)
    with BuildSketch(Plane(origin=(0, 3, 0), x_dir=(1, 0, 0), z_dir=(0, 1, 0))):
        with Locations((-51.147743093, 0)):
            Circle(SKETCH25_R)
    extrude(amount=-MICROPHONE_HOLDER_DEPTH, mode=Mode.SUBTRACT)

    # Sketch26 → Microphone Cutout (cut)
    with BuildSketch(Plane(origin=(0, 1.5, 0), x_dir=(1, 0, 0), z_dir=(0, 1, 0))):
        with Locations((-51.147743093, 0)):
            Circle(SKETCH26_R)
    extrude(amount=-MICROPHONE_CUTOUT_DEPTH, mode=Mode.SUBTRACT)

    # Sketch27 → Camera Cutout (cut)
    with BuildSketch(Plane(origin=(0, 3, 0), x_dir=(1, 0, 0), z_dir=(0, 1, 0))):
        with Locations((37.5, -18)):
            Circle(SKETCH27_R)
    extrude(amount=-CAMERA_CUTOUT_DEPTH, mode=Mode.SUBTRACT)


solid = part.part
